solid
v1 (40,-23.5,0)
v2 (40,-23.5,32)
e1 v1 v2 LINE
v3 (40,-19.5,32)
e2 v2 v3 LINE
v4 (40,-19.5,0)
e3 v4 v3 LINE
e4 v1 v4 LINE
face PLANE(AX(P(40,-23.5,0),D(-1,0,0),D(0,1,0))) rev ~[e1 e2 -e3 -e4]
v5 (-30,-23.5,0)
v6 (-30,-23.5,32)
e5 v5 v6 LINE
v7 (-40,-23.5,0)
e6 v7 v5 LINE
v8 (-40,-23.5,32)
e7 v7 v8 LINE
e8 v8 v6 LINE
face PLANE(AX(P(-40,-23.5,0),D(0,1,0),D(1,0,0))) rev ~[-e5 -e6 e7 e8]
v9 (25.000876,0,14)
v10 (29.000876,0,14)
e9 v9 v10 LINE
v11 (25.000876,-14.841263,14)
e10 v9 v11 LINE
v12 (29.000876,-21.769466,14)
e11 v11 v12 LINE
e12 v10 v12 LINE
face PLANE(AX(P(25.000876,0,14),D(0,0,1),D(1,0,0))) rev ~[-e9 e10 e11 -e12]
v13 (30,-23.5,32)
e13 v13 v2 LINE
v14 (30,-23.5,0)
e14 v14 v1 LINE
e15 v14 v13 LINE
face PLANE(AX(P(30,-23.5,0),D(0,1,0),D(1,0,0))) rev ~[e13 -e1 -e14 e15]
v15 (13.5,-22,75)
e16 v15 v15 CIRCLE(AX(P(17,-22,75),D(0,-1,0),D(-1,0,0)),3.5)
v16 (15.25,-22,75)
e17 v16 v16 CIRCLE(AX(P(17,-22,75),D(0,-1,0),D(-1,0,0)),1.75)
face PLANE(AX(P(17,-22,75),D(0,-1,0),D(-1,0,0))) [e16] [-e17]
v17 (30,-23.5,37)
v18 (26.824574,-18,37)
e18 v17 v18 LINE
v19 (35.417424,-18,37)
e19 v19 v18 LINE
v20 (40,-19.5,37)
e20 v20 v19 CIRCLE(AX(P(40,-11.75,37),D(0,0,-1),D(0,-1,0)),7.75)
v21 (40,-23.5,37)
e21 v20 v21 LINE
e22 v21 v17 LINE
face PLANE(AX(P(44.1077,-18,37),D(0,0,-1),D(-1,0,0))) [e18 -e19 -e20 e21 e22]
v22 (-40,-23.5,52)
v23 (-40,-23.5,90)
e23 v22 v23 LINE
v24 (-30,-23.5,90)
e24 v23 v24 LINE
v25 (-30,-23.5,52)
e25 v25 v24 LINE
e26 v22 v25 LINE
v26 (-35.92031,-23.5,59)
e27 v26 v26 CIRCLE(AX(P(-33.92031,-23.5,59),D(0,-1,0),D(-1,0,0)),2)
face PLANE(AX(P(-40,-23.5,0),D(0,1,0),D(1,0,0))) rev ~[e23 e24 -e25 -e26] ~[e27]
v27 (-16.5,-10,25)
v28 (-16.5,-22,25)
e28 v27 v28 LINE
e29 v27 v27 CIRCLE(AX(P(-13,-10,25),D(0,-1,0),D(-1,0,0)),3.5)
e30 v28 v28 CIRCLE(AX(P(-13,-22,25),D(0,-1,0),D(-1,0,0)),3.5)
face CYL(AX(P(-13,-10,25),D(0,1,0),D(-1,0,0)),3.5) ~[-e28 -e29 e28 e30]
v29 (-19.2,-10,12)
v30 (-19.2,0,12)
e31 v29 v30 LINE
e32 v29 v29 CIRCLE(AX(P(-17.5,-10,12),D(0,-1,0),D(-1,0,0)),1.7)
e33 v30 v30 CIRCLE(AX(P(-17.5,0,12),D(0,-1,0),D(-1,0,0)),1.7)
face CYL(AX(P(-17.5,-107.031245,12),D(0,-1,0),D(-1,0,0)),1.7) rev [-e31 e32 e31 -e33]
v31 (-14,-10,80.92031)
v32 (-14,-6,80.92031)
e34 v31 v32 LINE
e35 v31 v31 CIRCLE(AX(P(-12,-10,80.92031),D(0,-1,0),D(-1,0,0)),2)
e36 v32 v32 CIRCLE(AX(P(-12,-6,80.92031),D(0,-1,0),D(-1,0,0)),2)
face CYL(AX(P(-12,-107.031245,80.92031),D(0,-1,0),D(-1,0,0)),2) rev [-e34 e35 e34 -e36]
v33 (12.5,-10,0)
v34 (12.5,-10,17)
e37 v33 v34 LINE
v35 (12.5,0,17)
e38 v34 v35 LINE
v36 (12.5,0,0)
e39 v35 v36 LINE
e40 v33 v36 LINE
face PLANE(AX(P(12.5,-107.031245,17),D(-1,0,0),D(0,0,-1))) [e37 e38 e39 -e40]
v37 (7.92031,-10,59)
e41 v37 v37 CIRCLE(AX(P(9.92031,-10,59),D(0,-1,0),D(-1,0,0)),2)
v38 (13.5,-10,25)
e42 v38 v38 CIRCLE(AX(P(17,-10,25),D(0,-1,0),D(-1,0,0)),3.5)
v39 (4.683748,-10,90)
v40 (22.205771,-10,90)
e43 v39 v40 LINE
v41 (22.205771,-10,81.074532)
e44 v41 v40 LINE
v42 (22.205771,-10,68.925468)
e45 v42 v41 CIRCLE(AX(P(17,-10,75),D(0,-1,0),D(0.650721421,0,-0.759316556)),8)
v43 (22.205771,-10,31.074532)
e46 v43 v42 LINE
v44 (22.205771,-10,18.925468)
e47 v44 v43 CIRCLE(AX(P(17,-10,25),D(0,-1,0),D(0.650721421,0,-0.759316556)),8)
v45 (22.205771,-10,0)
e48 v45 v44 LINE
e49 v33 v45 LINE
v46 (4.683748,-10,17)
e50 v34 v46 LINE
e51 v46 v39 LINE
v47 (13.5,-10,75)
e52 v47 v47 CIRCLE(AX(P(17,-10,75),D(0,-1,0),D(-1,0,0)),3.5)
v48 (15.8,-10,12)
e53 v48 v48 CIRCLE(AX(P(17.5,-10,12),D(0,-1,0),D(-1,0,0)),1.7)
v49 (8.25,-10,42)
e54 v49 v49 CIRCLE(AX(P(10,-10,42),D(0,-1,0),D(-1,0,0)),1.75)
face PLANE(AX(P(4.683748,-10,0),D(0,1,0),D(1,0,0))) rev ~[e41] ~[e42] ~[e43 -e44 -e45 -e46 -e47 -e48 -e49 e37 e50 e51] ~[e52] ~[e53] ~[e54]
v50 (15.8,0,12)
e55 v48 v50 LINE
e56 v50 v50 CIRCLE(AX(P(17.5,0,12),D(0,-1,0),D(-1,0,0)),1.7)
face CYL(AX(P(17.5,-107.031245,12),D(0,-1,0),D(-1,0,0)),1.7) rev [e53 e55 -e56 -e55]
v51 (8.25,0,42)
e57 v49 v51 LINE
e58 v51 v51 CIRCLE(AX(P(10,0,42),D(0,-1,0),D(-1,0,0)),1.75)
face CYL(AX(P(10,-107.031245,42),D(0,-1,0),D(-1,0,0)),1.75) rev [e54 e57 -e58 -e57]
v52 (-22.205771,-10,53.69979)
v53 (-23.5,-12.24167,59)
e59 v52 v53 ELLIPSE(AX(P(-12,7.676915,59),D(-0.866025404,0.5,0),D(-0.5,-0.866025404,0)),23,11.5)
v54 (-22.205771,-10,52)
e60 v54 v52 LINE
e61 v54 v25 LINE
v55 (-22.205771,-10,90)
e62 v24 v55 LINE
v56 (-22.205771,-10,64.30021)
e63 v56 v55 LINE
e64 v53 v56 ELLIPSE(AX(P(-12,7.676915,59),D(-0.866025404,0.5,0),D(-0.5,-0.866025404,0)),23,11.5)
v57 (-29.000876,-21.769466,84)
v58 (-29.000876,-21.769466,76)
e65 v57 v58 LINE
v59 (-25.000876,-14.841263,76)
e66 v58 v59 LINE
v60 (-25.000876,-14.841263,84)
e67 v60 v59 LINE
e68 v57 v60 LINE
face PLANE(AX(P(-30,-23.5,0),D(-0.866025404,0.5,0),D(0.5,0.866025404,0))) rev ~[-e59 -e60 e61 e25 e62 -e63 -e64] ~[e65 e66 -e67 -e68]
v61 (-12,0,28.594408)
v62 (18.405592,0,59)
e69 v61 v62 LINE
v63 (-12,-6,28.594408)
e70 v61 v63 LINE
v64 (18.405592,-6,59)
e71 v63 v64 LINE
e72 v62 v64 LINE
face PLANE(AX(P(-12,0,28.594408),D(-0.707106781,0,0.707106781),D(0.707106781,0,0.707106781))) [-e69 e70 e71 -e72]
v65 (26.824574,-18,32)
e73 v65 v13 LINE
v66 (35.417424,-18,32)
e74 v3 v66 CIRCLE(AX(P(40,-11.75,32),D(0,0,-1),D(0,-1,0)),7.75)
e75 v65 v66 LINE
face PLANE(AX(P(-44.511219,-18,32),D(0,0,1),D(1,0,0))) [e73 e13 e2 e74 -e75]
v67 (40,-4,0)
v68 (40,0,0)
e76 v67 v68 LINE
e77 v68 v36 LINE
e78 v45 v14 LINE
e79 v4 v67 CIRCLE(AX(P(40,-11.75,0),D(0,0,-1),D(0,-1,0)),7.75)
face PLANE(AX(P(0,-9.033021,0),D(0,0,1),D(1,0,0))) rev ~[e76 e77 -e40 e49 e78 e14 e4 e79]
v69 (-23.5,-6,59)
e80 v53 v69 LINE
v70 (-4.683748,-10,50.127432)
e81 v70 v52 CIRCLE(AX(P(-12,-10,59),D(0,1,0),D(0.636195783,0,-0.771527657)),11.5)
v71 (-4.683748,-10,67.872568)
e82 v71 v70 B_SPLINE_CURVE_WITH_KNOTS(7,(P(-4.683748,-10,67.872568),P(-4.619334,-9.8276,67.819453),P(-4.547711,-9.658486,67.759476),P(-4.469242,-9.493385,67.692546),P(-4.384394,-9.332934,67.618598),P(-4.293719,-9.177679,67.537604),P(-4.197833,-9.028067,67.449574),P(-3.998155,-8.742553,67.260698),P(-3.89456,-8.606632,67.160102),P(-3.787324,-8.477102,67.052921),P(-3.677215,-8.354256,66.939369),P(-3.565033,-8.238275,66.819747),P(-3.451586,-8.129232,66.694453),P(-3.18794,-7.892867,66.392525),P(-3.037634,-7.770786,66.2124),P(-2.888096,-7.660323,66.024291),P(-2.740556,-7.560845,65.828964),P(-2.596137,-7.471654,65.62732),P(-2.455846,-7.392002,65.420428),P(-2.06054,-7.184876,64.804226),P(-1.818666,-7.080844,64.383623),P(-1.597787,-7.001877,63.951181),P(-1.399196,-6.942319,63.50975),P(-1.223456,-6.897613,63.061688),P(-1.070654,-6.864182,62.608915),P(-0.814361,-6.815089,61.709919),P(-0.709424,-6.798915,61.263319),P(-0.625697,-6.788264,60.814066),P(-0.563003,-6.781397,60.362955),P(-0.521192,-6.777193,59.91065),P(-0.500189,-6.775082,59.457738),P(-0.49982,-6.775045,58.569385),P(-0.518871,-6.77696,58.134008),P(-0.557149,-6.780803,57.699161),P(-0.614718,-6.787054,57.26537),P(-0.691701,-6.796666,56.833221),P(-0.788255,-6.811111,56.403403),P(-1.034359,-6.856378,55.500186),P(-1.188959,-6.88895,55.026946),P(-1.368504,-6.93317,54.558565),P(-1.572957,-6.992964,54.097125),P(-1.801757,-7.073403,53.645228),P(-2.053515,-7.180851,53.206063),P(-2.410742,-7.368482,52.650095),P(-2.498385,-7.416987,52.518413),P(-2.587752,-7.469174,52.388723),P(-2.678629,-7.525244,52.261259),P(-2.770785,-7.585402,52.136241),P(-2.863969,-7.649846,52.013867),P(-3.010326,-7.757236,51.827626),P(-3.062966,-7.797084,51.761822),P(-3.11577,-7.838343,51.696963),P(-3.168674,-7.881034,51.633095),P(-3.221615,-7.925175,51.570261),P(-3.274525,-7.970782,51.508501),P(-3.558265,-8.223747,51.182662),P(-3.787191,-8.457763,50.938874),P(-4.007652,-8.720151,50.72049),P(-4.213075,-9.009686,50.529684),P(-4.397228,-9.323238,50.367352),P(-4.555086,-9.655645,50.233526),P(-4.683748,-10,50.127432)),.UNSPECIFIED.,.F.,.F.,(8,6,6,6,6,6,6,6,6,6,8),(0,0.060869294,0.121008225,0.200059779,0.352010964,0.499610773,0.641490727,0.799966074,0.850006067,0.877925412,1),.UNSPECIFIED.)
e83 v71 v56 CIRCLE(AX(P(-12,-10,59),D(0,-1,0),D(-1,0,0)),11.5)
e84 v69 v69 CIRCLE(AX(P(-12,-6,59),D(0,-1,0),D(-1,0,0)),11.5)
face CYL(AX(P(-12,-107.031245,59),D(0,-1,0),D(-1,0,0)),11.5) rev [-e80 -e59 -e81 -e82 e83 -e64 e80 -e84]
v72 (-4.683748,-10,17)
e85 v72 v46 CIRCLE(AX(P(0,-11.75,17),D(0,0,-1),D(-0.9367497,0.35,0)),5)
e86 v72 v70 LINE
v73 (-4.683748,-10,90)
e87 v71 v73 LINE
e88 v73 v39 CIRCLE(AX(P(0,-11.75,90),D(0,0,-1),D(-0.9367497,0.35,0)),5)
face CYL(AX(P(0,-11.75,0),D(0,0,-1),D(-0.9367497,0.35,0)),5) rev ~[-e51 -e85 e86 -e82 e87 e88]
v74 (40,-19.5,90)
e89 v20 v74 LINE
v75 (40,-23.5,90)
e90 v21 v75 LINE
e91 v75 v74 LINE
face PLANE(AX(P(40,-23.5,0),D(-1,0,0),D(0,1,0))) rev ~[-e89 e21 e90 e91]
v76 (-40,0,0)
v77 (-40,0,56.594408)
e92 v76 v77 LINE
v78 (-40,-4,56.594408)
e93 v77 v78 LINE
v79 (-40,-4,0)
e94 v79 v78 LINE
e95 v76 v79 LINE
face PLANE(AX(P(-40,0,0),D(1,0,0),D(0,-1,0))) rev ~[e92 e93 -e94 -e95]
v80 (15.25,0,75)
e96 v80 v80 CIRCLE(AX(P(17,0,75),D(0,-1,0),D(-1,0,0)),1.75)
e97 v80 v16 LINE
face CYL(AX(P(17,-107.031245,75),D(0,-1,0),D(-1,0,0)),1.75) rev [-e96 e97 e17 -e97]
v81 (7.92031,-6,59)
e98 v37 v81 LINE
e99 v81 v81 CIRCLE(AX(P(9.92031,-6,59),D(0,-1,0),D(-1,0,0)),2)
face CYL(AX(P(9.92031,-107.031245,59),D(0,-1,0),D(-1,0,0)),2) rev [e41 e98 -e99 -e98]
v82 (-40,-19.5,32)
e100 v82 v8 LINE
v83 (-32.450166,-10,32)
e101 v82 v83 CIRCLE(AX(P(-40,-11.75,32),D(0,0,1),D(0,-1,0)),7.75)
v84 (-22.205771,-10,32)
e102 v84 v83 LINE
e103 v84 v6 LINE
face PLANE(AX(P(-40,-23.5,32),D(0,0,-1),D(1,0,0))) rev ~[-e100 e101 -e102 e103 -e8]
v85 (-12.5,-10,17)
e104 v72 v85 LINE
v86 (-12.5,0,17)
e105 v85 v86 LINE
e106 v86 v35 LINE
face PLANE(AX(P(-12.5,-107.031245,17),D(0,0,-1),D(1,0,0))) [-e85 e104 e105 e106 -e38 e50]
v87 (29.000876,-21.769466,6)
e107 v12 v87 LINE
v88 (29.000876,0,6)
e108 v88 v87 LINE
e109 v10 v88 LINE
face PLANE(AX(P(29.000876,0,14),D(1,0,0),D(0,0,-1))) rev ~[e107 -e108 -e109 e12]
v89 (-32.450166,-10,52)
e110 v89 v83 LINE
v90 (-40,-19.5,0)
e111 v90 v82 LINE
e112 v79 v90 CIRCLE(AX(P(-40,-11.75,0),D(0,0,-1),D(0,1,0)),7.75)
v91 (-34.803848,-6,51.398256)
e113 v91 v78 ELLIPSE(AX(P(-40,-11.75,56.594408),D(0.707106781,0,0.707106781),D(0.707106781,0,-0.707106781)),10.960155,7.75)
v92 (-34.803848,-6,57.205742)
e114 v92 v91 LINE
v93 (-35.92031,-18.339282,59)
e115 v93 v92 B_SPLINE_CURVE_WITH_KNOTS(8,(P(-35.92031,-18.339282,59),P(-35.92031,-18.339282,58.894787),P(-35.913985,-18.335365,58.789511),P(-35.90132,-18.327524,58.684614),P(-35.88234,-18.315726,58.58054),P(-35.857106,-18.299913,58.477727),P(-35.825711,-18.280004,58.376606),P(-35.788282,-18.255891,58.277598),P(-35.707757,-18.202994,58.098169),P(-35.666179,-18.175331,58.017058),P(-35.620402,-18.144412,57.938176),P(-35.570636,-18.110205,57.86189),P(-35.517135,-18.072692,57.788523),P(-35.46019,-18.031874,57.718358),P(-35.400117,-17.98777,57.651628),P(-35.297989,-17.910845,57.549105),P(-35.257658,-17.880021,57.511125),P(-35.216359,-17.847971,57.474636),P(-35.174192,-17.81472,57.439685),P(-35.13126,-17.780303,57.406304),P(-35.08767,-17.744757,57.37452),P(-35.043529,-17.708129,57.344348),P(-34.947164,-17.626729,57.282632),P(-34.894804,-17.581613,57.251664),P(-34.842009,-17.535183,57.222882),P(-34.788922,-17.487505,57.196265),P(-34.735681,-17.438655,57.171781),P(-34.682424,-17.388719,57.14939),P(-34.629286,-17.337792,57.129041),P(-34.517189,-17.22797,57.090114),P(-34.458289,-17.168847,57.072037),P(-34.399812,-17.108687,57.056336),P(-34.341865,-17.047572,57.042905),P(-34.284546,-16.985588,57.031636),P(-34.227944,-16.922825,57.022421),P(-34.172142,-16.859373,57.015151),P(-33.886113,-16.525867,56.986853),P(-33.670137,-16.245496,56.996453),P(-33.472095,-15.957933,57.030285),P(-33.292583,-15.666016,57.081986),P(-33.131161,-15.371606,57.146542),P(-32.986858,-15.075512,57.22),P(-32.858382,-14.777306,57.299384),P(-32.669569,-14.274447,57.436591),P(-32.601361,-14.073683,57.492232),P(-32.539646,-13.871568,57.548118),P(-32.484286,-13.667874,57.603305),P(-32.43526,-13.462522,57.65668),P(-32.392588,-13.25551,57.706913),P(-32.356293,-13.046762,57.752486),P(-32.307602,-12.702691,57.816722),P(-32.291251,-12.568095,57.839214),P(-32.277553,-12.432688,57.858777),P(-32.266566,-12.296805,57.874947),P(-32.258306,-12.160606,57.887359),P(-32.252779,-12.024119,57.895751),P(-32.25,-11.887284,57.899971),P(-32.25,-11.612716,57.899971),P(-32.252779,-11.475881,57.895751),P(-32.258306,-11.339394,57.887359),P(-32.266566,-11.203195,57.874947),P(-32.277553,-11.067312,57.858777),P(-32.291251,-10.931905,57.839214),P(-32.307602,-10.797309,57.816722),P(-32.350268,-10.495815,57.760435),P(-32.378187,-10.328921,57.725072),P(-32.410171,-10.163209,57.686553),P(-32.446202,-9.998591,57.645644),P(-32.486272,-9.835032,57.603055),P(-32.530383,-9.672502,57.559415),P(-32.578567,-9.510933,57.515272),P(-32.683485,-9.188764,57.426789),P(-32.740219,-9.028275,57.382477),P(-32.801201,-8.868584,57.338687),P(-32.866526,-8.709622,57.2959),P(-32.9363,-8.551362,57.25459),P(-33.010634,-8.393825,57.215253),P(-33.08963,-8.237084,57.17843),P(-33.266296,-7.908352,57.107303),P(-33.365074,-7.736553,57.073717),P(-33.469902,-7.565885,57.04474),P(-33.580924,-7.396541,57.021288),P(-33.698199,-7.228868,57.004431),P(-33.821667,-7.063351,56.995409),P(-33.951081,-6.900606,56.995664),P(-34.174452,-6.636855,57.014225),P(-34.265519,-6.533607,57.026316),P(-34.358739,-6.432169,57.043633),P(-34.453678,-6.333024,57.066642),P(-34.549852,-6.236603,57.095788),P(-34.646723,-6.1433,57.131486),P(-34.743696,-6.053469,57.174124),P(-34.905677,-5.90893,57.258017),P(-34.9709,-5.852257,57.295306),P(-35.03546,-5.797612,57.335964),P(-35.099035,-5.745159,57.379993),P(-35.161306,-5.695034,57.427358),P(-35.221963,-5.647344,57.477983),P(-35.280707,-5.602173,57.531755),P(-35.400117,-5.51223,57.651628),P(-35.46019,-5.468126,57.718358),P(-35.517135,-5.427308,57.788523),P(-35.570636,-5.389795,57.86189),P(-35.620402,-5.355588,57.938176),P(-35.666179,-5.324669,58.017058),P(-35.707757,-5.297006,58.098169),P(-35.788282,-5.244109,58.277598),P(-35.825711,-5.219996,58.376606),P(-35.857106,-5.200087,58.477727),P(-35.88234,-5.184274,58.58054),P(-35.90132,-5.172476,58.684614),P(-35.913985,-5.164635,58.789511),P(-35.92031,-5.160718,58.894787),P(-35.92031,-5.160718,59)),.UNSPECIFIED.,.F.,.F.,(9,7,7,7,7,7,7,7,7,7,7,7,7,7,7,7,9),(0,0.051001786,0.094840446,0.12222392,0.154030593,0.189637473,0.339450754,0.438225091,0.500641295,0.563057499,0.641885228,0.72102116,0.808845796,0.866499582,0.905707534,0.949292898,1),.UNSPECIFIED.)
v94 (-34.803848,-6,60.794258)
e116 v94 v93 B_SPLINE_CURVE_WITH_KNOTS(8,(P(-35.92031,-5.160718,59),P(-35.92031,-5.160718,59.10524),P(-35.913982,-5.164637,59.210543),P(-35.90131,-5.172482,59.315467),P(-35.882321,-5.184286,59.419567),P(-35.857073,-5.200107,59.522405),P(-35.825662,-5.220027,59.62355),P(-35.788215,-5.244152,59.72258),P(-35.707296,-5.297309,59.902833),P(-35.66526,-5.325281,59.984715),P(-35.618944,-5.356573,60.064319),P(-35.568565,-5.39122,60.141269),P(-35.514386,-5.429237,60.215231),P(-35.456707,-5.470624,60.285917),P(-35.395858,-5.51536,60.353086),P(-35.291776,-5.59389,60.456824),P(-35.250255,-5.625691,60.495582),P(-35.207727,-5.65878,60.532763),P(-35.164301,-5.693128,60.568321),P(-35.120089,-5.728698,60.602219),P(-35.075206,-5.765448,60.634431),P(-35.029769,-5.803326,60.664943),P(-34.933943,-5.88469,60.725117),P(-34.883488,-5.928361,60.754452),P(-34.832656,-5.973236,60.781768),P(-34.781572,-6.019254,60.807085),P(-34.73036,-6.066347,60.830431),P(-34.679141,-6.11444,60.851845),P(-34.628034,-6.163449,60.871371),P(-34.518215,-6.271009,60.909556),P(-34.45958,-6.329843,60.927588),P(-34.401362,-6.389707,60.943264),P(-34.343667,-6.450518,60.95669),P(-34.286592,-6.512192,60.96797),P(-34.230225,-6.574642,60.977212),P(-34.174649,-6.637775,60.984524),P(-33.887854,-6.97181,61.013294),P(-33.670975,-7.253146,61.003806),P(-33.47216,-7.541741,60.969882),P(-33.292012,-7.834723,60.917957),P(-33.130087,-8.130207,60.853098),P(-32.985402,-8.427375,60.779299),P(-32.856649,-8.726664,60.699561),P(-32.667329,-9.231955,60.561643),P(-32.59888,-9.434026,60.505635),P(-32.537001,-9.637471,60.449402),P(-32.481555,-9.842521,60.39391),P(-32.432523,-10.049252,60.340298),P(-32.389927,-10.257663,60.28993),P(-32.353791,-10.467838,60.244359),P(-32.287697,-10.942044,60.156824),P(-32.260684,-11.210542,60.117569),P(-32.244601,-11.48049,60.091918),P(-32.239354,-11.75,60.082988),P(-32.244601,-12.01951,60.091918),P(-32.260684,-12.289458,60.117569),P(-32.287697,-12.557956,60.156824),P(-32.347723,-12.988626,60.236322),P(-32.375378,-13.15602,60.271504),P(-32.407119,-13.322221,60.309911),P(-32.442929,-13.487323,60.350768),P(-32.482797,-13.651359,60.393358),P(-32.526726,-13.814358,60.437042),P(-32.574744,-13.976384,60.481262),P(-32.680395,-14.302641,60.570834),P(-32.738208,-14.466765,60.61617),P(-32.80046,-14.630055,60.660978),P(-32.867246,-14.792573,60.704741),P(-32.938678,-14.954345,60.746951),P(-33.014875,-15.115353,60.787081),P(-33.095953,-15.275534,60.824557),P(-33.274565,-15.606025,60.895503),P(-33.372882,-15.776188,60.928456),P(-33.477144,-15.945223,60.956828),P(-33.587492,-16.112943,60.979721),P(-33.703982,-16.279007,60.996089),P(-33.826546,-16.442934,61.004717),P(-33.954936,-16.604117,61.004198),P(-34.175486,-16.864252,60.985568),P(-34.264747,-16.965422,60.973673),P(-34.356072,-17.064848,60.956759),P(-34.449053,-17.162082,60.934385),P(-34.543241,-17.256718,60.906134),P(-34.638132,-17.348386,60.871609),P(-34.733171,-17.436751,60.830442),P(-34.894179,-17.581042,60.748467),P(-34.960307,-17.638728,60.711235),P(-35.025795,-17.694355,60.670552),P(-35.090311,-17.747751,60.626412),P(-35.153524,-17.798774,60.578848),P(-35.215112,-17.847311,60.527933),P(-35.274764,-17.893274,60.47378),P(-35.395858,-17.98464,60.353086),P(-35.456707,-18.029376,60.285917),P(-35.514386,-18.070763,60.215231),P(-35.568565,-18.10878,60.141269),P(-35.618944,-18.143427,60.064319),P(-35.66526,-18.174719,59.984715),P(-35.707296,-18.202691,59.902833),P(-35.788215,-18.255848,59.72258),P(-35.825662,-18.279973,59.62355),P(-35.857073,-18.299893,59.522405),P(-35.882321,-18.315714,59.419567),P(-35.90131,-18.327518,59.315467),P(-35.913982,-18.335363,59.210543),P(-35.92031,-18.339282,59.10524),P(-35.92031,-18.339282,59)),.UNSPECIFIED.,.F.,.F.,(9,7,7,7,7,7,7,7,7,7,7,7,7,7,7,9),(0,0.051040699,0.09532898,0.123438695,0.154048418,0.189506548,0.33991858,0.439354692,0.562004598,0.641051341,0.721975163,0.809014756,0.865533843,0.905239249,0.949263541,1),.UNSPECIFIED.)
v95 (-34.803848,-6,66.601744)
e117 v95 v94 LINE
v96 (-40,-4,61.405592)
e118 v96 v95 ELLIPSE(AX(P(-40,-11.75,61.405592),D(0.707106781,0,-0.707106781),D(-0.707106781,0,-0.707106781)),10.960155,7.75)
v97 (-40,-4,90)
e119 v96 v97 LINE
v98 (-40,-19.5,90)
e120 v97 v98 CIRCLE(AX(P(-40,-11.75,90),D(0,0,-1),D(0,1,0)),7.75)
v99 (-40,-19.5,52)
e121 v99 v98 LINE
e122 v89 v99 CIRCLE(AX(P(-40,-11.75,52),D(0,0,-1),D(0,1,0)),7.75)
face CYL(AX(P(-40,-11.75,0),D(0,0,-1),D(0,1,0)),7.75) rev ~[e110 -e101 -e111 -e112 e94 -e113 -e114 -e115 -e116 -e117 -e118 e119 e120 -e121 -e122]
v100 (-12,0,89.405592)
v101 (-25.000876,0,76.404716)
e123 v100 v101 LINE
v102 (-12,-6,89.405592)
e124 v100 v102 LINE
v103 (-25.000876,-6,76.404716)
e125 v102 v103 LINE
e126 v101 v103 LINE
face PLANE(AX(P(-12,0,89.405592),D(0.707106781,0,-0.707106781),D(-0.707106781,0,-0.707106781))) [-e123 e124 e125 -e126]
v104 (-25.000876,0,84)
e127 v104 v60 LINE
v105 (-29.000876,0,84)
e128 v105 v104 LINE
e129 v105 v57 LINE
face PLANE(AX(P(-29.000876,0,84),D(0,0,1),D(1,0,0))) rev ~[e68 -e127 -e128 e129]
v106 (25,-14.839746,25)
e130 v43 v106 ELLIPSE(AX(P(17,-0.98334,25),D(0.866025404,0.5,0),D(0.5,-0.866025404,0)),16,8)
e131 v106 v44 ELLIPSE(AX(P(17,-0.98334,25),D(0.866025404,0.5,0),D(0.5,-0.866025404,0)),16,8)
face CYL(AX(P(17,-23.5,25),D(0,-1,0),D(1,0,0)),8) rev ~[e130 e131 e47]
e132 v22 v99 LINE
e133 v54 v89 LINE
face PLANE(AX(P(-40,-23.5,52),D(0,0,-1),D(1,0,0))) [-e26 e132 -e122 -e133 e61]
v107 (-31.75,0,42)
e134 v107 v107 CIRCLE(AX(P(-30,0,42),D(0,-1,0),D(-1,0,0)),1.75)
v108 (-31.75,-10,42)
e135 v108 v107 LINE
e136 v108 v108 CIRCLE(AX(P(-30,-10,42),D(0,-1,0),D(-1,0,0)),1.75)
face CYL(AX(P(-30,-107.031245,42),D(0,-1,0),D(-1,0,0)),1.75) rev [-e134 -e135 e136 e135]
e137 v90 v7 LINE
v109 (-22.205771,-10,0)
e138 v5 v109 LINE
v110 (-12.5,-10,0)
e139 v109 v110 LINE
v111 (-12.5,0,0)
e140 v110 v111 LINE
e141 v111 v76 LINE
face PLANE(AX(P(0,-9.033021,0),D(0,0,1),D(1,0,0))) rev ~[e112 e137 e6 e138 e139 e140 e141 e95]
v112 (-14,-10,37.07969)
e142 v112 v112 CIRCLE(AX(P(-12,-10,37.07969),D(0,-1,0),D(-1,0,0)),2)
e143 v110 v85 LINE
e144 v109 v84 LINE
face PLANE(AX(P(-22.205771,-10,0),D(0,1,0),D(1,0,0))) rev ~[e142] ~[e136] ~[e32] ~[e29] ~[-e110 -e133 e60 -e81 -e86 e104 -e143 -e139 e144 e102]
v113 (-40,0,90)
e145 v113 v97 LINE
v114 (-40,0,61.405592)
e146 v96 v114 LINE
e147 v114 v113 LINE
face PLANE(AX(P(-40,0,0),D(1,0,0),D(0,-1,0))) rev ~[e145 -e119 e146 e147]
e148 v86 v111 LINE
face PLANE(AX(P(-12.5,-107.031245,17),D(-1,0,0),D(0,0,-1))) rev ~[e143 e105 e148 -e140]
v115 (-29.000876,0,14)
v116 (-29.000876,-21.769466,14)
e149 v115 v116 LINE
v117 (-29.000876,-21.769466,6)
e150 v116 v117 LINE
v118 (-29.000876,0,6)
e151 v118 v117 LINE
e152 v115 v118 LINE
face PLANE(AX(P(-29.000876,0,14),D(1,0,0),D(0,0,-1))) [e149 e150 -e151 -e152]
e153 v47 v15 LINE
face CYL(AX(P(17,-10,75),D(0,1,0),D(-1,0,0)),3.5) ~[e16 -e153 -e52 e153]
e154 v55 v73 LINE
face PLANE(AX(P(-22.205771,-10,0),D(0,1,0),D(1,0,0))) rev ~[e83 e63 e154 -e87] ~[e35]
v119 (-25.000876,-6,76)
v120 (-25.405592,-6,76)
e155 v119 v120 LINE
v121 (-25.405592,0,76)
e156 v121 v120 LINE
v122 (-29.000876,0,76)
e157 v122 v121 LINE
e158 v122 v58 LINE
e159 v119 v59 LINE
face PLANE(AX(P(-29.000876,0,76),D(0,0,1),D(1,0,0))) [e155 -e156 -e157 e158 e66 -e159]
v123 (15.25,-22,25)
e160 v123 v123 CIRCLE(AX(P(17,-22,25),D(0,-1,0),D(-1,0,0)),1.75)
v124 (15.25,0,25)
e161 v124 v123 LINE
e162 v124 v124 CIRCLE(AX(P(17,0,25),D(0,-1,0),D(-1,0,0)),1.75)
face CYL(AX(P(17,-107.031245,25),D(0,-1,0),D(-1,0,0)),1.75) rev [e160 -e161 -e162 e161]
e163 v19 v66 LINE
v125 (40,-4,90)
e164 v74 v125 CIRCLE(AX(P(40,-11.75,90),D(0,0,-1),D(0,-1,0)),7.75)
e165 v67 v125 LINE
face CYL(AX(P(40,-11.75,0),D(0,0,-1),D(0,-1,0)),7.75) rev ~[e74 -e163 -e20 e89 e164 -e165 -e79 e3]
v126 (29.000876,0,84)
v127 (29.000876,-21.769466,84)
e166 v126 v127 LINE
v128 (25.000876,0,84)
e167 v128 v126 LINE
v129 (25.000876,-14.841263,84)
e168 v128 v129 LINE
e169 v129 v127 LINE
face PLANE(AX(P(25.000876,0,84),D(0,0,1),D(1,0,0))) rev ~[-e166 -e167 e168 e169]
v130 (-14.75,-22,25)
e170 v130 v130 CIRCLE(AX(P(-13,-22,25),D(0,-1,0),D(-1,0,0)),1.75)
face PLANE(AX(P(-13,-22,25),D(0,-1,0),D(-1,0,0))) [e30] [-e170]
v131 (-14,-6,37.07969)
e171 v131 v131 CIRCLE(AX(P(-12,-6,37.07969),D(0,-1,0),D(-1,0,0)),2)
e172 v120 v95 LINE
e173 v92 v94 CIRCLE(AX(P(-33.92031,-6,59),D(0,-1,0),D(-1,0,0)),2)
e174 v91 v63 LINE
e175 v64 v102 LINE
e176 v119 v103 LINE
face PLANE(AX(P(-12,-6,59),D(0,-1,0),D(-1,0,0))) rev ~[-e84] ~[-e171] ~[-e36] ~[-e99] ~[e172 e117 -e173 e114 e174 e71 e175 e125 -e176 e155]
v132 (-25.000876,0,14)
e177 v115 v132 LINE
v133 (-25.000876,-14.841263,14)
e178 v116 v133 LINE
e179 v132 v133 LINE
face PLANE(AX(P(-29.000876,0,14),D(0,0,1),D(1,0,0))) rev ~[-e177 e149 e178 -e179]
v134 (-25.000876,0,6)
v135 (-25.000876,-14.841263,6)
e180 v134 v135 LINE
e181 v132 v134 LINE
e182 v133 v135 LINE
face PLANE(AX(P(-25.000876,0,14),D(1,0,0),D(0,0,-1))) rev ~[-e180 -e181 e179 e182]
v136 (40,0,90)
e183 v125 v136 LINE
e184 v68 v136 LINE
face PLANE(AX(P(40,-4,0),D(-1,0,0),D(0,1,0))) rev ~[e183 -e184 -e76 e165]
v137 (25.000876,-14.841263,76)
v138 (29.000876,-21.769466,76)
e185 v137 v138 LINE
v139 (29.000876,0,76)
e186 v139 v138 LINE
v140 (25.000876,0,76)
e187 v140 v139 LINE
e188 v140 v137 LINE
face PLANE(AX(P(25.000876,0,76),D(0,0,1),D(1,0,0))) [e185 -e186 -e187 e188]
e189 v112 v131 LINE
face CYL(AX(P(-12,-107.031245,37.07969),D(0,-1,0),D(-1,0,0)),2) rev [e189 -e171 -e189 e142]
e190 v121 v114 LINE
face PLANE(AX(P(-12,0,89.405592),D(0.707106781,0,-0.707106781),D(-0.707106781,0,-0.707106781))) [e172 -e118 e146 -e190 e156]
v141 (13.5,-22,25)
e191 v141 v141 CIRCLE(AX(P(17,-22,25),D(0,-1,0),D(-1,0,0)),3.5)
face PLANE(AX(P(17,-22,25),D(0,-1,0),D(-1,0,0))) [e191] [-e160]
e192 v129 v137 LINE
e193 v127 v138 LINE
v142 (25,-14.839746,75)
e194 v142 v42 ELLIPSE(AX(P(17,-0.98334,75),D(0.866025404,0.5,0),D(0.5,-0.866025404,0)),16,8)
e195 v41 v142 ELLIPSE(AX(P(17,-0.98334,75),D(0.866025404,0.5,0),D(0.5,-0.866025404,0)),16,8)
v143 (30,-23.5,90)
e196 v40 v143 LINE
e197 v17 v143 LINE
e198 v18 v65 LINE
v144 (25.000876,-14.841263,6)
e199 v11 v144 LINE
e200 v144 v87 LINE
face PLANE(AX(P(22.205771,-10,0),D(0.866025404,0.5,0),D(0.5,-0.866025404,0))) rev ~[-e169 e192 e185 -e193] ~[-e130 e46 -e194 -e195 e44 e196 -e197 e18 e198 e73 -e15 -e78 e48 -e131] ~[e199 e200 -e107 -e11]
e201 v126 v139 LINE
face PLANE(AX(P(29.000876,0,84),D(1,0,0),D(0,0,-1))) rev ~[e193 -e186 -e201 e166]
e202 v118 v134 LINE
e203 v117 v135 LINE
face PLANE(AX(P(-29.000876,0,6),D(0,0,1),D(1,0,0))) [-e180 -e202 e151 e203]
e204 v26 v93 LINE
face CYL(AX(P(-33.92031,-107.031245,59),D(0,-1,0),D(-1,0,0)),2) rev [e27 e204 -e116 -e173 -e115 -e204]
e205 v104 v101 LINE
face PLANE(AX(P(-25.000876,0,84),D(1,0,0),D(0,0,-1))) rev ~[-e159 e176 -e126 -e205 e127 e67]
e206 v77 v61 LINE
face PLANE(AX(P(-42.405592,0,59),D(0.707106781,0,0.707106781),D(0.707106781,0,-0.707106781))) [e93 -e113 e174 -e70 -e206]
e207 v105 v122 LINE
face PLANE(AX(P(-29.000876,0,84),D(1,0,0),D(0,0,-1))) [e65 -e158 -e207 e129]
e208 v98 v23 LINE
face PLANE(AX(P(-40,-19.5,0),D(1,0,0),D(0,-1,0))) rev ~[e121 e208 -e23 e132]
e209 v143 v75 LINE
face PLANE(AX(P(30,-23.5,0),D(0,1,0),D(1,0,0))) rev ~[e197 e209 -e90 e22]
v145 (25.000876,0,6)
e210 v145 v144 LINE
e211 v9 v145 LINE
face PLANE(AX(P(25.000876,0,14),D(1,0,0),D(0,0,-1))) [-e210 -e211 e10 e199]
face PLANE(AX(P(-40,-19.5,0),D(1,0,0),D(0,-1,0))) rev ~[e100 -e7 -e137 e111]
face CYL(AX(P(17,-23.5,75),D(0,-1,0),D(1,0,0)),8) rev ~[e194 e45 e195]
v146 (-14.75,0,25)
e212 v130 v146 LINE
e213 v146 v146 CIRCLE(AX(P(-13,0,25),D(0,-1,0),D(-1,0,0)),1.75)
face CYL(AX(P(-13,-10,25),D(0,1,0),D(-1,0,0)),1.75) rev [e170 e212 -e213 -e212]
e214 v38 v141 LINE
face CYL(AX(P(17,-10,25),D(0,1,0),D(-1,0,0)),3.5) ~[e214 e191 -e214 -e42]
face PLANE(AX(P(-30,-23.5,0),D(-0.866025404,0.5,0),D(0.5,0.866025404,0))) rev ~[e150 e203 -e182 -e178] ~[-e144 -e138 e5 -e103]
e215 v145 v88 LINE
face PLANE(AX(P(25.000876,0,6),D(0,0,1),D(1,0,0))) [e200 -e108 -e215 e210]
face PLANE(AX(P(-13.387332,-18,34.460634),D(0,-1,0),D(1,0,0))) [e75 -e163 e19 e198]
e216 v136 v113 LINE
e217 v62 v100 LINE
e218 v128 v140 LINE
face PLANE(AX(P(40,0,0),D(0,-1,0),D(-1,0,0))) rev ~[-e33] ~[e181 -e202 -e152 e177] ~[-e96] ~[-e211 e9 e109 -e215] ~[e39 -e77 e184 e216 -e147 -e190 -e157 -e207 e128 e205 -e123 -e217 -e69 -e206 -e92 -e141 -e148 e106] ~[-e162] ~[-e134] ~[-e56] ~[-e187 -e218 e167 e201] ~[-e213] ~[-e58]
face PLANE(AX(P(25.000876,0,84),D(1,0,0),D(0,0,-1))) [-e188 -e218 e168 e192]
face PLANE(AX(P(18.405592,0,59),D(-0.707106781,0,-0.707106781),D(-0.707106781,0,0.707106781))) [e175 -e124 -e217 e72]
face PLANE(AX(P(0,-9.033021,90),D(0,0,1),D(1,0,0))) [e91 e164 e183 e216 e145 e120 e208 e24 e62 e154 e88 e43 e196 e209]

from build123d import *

# Parameters (mm, degrees)
RESSALTO_EXTRUS_O1_DEPTH   = 90
ESBO_O2_R                  = 5
CORTE_EXTRUS_O1_DEPTH      = 6
CORTE_EXTRUS_O2_DEPTH      = 101.031245119
CORTE_EXTRUS_O2_DEPTH_BACK = 101.031245119
ESBO_O3_R                  = 2
ESBO_O3_R_2                = 11.5
ESBO_O3_R_3                = 1.75
ESBO_O3_R_4                = 1.7
ESBO_O3_W                  = 25
ESBO_O3_H                  = 17
CORTE_EXTRUS_O4_START      = 8
ESBO_O4_W                  = 22.305447344
ESBO_O4_H                  = 5
ESBO_O4_W_2                = 48.791448981
CORTE_EXTRUS_O4_DEPTH      = 12
CORTE_EXTRUS_O7_REACH      = 103.253
ESBO_O6_R                  = 8
ESBO_O6_W                  = 20
ESBO_O6_H                  = 20
ESBO_O7_W                  = 4
ESBO_O7_H                  = 8
CORTE_EXTRUS_O8_DEPTH      = 102.253395156
ESBO_O11_R                 = 3.5
ESBO_O11_R_2               = 1.75
RESSALTO_EXTRUS_O3_DEPTH   = 12


with BuildPart() as part:
    # Esboço1 → Ressalto-extrusão1 (new body)
    with BuildSketch(Plane.XY):
        with BuildLine():
            Line((40, 0), (-40, 0))
            Line((-40, 0), (-40, -4))
            ThreePointArc((-40, -4), (-32.25, -11.75), (-40, -19.5))
            Line((-40, -19.5), (-40, -23.5))
            Line((-40, -23.5), (-30, -23.5))
            Line((-30, -23.5), (-22.205771366, -10))
            Line((-22.205771366, -10), (-4.683748499, -10))
            ThreePointArc((-4.683748499, -10), (0, -6.75), (4.683748499, -10))
            Line((4.683748499, -10), (22.205771366, -10))
            Line((22.205771366, -10), (30, -23.5))
            Line((30, -23.5), (40, -23.5))
            Line((40, -23.5), (40, -19.5))
            ThreePointArc((40, -19.5), (32.25, -11.75), (40, -4))
            Line((40, -4), (40, 0))
        make_face()
    extrude(amount=RESSALTO_EXTRUS_O1_DEPTH)

    # Esboço2 → Corte-extrusão1 (cut)
    with BuildSketch(Plane(origin=(0, 0, 0), x_dir=(1, 0, 0), z_dir=(0, 1, 0))):
        Polygon((-42.405591591, -59), (-12, -28.594408409), (18.405591591, -59), (-12, -89.405591591), align=None)
        with Locations(Location((-12, -59, 0), (0, 0, 270))):
            Circle(ESBO_O2_R, mode=Mode.SUBTRACT)
    extrude(amount=-CORTE_EXTRUS_O1_DEPTH, mode=Mode.SUBTRACT)

    # Esboço3 → Corte-extrusão2 (cut, two sides: drawn at the far end of the back side and taken through both)
    with BuildSketch(Plane(origin=(0, -6, 0), x_dir=(1, 0, 0), z_dir=(0, 1, 0)).offset(-CORTE_EXTRUS_O2_DEPTH_BACK)):
        with Locations(Location((-12, -37.079689783, 0), (0, 0, 180))):
            Circle(ESBO_O3_R)
        with Locations(Location((9.920310217, -59, 0), (0, 0, 180))):
            Circle(ESBO_O3_R)
        with Locations(Location((-12, -80.920310217, 0), (0, 0, 180))):
            Circle(ESBO_O3_R)
        with Locations(Location((-33.920310217, -59, 0), (0, 0, 180))):
            Circle(ESBO_O3_R)
        with Locations(Location((-12, -59, 0), (0, 0, 180))):
            Circle(ESBO_O3_R_2)
        with Locations(Location((-30, -42, 0), (0, 0, 180))):
            Circle(ESBO_O3_R_3)
        with Locations(Location((10, -42, 0), (0, 0, 180))):
            Circle(ESBO_O3_R_3)
        with Locations(Location((-17.5, -12, 0), (0, 0, 180))):
            Circle(ESBO_O3_R_4)
        with Locations(Location((17.5, -12, 0), (0, 0, 180))):
            Circle(ESBO_O3_R_4)
        with Locations(Location((17, -75, 0), (0, 0, 180))):
            Circle(ESBO_O3_R_3)
        with Locations(Location((-13, -25, 0), (0, 0, 180))):
            Circle(ESBO_O3_R_3)
        with Locations(Location((17, -25, 0), (0, 0, 180))):
            Circle(ESBO_O3_R_3)
        with Locations((0, -8.5)):
            Rectangle(ESBO_O3_W, ESBO_O3_H)
    extrude(amount=CORTE_EXTRUS_O2_DEPTH + CORTE_EXTRUS_O2_DEPTH_BACK, mode=Mode.SUBTRACT)

    # Esboço4 → Corte-extrusão4 (cut)
    with BuildSketch(Plane.XZ.offset(10).offset(CORTE_EXTRUS_O4_START)):
        with BuildLine():
            Line((-13.998411754, 37), (-22.205771366, 37))
            Line((-22.205771366, 37), (-22.205771366, 32))
            Line((-22.205771366, 32), (-4.683748499, 32))
            Line((-4.683748499, 32), (-4.683748499, 37))
            Line((-4.683748499, 37), (-10.001588246, 37))
            ThreePointArc((-10.001588246, 37), (-12, 35.079689783), (-13.998411754, 37))
        make_face()
        with Locations((-33.358495038, 34.5)):
            Rectangle(ESBO_O4_W, ESBO_O4_H)
        with Locations((19.711975992, 34.5)):
            Rectangle(ESBO_O4_W_2, ESBO_O4_H)
    extrude(amount=CORTE_EXTRUS_O4_DEPTH, mode=Mode.SUBTRACT)

    # Corte-extrusão7: up to this face of the body (flat: up to its plane)
    corte_extrus_o7_end = Plane(part.part.faces().sort_by_distance((-13.702636596, -10, 79.456396835))[0])
    # Esboço6 → Corte-extrusão7 (cut, up to the picked face)
    with BuildSketch(Plane.XZ.offset(23.5), mode=Mode.PRIVATE) as corte_extrus_o7_sk1:
        with Locations((17, 75)):
            Circle(ESBO_O6_R)
    corte_extrus_o7_tool1 = split(extrude(corte_extrus_o7_sk1.sketch, amount=-CORTE_EXTRUS_O7_REACH, mode=Mode.PRIVATE), bisect_by=corte_extrus_o7_end, keep=Keep.BOTH, mode=Mode.PRIVATE)
    # Esboço6 → Corte-extrusão7 (cut, up to the picked face)
    with BuildSketch(Plane.XZ.offset(23.5), mode=Mode.PRIVATE) as corte_extrus_o7_sk2:
        with Locations((17, 25)):
            Circle(ESBO_O6_R)
    corte_extrus_o7_tool2 = split(extrude(corte_extrus_o7_sk2.sketch, amount=-CORTE_EXTRUS_O7_REACH, mode=Mode.PRIVATE), bisect_by=corte_extrus_o7_end, keep=Keep.BOTH, mode=Mode.PRIVATE)
    # Esboço6 → Corte-extrusão7 (cut, up to the picked face)
    with BuildSketch(Plane.XZ.offset(23.5), mode=Mode.PRIVATE) as corte_extrus_o7_sk3:
        with Locations((-13, 25)):
            Circle(ESBO_O6_R)
    corte_extrus_o7_tool3 = split(extrude(corte_extrus_o7_sk3.sketch, amount=-CORTE_EXTRUS_O7_REACH, mode=Mode.PRIVATE), bisect_by=corte_extrus_o7_end, keep=Keep.BOTH, mode=Mode.PRIVATE)
    # Esboço6 → Corte-extrusão7 (cut, up to the picked face)
    with BuildSketch(Plane.XZ.offset(23.5), mode=Mode.PRIVATE) as corte_extrus_o7_sk4:
        with Locations((-30, 42)):
            Rectangle(ESBO_O6_W, ESBO_O6_H)
    corte_extrus_o7_tool4 = split(extrude(corte_extrus_o7_sk4.sketch, amount=-CORTE_EXTRUS_O7_REACH, mode=Mode.PRIVATE), bisect_by=corte_extrus_o7_end, keep=Keep.BOTH, mode=Mode.PRIVATE)
    add(corte_extrus_o7_tool1.solids().sort_by(Axis((17, -23.5, 75), (0, 1, 0)))[0], mode=Mode.SUBTRACT)
    add(corte_extrus_o7_tool2.solids().sort_by(Axis((17, -23.5, 25), (0, 1, 0)))[0], mode=Mode.SUBTRACT)
    add(corte_extrus_o7_tool3.solids().sort_by(Axis((-13, -23.5, 25), (0, 1, 0)))[0], mode=Mode.SUBTRACT)
    add(corte_extrus_o7_tool4.solids().sort_by(Axis((-30, -23.5, 42), (0, 1, 0)))[0], mode=Mode.SUBTRACT)

    # Esboço7 → Corte-extrusão8 (cut, through all)
    with BuildSketch(Plane(origin=(0, 0, 0), x_dir=(1, 0, 0), z_dir=(0, 1, 0))):
        with Locations((27.000875928, -80)):
            Rectangle(ESBO_O7_W, ESBO_O7_H)
        with Locations((27.000875928, -10)):
            Rectangle(ESBO_O7_W, ESBO_O7_H)
        with Locations((-27.000875928, -10)):
            Rectangle(ESBO_O7_W, ESBO_O7_H)
        with Locations((-27.000875928, -80)):
            Rectangle(ESBO_O7_W, ESBO_O7_H)
    extrude(amount=-CORTE_EXTRUS_O8_DEPTH, mode=Mode.SUBTRACT)

    # Esboço11 → Ressalto-extrusão3 (add)
    # profile 1 of 3: a face of its own
    with BuildSketch(Plane.XZ.offset(10)):
        with Locations(Location((-13, 25, 0), (0, 0, 180))):
            Circle(ESBO_O11_R)
        with Locations(Location((-13, 25, 0), (0, 0, 180))):
            Circle(ESBO_O11_R_2, mode=Mode.SUBTRACT)
    # profile 2 of 3: a face of its own
    with BuildSketch(Plane.XZ.offset(10)):
        with Locations(Location((17, 25, 0), (0, 0, 180))):
            Circle(ESBO_O11_R)
        with Locations(Location((17, 25, 0), (0, 0, 180))):
            Circle(ESBO_O11_R_2, mode=Mode.SUBTRACT)
    # profile 3 of 3: a face of its own
    with BuildSketch(Plane.XZ.offset(10)):
        with Locations(Location((17, 75, 0), (0, 0, 180))):
            Circle(ESBO_O11_R)
        with Locations(Location((17, 75, 0), (0, 0, 180))):
            Circle(ESBO_O11_R_2, mode=Mode.SUBTRACT)
    extrude(amount=RESSALTO_EXTRUS_O3_DEPTH)


solid = part.part
